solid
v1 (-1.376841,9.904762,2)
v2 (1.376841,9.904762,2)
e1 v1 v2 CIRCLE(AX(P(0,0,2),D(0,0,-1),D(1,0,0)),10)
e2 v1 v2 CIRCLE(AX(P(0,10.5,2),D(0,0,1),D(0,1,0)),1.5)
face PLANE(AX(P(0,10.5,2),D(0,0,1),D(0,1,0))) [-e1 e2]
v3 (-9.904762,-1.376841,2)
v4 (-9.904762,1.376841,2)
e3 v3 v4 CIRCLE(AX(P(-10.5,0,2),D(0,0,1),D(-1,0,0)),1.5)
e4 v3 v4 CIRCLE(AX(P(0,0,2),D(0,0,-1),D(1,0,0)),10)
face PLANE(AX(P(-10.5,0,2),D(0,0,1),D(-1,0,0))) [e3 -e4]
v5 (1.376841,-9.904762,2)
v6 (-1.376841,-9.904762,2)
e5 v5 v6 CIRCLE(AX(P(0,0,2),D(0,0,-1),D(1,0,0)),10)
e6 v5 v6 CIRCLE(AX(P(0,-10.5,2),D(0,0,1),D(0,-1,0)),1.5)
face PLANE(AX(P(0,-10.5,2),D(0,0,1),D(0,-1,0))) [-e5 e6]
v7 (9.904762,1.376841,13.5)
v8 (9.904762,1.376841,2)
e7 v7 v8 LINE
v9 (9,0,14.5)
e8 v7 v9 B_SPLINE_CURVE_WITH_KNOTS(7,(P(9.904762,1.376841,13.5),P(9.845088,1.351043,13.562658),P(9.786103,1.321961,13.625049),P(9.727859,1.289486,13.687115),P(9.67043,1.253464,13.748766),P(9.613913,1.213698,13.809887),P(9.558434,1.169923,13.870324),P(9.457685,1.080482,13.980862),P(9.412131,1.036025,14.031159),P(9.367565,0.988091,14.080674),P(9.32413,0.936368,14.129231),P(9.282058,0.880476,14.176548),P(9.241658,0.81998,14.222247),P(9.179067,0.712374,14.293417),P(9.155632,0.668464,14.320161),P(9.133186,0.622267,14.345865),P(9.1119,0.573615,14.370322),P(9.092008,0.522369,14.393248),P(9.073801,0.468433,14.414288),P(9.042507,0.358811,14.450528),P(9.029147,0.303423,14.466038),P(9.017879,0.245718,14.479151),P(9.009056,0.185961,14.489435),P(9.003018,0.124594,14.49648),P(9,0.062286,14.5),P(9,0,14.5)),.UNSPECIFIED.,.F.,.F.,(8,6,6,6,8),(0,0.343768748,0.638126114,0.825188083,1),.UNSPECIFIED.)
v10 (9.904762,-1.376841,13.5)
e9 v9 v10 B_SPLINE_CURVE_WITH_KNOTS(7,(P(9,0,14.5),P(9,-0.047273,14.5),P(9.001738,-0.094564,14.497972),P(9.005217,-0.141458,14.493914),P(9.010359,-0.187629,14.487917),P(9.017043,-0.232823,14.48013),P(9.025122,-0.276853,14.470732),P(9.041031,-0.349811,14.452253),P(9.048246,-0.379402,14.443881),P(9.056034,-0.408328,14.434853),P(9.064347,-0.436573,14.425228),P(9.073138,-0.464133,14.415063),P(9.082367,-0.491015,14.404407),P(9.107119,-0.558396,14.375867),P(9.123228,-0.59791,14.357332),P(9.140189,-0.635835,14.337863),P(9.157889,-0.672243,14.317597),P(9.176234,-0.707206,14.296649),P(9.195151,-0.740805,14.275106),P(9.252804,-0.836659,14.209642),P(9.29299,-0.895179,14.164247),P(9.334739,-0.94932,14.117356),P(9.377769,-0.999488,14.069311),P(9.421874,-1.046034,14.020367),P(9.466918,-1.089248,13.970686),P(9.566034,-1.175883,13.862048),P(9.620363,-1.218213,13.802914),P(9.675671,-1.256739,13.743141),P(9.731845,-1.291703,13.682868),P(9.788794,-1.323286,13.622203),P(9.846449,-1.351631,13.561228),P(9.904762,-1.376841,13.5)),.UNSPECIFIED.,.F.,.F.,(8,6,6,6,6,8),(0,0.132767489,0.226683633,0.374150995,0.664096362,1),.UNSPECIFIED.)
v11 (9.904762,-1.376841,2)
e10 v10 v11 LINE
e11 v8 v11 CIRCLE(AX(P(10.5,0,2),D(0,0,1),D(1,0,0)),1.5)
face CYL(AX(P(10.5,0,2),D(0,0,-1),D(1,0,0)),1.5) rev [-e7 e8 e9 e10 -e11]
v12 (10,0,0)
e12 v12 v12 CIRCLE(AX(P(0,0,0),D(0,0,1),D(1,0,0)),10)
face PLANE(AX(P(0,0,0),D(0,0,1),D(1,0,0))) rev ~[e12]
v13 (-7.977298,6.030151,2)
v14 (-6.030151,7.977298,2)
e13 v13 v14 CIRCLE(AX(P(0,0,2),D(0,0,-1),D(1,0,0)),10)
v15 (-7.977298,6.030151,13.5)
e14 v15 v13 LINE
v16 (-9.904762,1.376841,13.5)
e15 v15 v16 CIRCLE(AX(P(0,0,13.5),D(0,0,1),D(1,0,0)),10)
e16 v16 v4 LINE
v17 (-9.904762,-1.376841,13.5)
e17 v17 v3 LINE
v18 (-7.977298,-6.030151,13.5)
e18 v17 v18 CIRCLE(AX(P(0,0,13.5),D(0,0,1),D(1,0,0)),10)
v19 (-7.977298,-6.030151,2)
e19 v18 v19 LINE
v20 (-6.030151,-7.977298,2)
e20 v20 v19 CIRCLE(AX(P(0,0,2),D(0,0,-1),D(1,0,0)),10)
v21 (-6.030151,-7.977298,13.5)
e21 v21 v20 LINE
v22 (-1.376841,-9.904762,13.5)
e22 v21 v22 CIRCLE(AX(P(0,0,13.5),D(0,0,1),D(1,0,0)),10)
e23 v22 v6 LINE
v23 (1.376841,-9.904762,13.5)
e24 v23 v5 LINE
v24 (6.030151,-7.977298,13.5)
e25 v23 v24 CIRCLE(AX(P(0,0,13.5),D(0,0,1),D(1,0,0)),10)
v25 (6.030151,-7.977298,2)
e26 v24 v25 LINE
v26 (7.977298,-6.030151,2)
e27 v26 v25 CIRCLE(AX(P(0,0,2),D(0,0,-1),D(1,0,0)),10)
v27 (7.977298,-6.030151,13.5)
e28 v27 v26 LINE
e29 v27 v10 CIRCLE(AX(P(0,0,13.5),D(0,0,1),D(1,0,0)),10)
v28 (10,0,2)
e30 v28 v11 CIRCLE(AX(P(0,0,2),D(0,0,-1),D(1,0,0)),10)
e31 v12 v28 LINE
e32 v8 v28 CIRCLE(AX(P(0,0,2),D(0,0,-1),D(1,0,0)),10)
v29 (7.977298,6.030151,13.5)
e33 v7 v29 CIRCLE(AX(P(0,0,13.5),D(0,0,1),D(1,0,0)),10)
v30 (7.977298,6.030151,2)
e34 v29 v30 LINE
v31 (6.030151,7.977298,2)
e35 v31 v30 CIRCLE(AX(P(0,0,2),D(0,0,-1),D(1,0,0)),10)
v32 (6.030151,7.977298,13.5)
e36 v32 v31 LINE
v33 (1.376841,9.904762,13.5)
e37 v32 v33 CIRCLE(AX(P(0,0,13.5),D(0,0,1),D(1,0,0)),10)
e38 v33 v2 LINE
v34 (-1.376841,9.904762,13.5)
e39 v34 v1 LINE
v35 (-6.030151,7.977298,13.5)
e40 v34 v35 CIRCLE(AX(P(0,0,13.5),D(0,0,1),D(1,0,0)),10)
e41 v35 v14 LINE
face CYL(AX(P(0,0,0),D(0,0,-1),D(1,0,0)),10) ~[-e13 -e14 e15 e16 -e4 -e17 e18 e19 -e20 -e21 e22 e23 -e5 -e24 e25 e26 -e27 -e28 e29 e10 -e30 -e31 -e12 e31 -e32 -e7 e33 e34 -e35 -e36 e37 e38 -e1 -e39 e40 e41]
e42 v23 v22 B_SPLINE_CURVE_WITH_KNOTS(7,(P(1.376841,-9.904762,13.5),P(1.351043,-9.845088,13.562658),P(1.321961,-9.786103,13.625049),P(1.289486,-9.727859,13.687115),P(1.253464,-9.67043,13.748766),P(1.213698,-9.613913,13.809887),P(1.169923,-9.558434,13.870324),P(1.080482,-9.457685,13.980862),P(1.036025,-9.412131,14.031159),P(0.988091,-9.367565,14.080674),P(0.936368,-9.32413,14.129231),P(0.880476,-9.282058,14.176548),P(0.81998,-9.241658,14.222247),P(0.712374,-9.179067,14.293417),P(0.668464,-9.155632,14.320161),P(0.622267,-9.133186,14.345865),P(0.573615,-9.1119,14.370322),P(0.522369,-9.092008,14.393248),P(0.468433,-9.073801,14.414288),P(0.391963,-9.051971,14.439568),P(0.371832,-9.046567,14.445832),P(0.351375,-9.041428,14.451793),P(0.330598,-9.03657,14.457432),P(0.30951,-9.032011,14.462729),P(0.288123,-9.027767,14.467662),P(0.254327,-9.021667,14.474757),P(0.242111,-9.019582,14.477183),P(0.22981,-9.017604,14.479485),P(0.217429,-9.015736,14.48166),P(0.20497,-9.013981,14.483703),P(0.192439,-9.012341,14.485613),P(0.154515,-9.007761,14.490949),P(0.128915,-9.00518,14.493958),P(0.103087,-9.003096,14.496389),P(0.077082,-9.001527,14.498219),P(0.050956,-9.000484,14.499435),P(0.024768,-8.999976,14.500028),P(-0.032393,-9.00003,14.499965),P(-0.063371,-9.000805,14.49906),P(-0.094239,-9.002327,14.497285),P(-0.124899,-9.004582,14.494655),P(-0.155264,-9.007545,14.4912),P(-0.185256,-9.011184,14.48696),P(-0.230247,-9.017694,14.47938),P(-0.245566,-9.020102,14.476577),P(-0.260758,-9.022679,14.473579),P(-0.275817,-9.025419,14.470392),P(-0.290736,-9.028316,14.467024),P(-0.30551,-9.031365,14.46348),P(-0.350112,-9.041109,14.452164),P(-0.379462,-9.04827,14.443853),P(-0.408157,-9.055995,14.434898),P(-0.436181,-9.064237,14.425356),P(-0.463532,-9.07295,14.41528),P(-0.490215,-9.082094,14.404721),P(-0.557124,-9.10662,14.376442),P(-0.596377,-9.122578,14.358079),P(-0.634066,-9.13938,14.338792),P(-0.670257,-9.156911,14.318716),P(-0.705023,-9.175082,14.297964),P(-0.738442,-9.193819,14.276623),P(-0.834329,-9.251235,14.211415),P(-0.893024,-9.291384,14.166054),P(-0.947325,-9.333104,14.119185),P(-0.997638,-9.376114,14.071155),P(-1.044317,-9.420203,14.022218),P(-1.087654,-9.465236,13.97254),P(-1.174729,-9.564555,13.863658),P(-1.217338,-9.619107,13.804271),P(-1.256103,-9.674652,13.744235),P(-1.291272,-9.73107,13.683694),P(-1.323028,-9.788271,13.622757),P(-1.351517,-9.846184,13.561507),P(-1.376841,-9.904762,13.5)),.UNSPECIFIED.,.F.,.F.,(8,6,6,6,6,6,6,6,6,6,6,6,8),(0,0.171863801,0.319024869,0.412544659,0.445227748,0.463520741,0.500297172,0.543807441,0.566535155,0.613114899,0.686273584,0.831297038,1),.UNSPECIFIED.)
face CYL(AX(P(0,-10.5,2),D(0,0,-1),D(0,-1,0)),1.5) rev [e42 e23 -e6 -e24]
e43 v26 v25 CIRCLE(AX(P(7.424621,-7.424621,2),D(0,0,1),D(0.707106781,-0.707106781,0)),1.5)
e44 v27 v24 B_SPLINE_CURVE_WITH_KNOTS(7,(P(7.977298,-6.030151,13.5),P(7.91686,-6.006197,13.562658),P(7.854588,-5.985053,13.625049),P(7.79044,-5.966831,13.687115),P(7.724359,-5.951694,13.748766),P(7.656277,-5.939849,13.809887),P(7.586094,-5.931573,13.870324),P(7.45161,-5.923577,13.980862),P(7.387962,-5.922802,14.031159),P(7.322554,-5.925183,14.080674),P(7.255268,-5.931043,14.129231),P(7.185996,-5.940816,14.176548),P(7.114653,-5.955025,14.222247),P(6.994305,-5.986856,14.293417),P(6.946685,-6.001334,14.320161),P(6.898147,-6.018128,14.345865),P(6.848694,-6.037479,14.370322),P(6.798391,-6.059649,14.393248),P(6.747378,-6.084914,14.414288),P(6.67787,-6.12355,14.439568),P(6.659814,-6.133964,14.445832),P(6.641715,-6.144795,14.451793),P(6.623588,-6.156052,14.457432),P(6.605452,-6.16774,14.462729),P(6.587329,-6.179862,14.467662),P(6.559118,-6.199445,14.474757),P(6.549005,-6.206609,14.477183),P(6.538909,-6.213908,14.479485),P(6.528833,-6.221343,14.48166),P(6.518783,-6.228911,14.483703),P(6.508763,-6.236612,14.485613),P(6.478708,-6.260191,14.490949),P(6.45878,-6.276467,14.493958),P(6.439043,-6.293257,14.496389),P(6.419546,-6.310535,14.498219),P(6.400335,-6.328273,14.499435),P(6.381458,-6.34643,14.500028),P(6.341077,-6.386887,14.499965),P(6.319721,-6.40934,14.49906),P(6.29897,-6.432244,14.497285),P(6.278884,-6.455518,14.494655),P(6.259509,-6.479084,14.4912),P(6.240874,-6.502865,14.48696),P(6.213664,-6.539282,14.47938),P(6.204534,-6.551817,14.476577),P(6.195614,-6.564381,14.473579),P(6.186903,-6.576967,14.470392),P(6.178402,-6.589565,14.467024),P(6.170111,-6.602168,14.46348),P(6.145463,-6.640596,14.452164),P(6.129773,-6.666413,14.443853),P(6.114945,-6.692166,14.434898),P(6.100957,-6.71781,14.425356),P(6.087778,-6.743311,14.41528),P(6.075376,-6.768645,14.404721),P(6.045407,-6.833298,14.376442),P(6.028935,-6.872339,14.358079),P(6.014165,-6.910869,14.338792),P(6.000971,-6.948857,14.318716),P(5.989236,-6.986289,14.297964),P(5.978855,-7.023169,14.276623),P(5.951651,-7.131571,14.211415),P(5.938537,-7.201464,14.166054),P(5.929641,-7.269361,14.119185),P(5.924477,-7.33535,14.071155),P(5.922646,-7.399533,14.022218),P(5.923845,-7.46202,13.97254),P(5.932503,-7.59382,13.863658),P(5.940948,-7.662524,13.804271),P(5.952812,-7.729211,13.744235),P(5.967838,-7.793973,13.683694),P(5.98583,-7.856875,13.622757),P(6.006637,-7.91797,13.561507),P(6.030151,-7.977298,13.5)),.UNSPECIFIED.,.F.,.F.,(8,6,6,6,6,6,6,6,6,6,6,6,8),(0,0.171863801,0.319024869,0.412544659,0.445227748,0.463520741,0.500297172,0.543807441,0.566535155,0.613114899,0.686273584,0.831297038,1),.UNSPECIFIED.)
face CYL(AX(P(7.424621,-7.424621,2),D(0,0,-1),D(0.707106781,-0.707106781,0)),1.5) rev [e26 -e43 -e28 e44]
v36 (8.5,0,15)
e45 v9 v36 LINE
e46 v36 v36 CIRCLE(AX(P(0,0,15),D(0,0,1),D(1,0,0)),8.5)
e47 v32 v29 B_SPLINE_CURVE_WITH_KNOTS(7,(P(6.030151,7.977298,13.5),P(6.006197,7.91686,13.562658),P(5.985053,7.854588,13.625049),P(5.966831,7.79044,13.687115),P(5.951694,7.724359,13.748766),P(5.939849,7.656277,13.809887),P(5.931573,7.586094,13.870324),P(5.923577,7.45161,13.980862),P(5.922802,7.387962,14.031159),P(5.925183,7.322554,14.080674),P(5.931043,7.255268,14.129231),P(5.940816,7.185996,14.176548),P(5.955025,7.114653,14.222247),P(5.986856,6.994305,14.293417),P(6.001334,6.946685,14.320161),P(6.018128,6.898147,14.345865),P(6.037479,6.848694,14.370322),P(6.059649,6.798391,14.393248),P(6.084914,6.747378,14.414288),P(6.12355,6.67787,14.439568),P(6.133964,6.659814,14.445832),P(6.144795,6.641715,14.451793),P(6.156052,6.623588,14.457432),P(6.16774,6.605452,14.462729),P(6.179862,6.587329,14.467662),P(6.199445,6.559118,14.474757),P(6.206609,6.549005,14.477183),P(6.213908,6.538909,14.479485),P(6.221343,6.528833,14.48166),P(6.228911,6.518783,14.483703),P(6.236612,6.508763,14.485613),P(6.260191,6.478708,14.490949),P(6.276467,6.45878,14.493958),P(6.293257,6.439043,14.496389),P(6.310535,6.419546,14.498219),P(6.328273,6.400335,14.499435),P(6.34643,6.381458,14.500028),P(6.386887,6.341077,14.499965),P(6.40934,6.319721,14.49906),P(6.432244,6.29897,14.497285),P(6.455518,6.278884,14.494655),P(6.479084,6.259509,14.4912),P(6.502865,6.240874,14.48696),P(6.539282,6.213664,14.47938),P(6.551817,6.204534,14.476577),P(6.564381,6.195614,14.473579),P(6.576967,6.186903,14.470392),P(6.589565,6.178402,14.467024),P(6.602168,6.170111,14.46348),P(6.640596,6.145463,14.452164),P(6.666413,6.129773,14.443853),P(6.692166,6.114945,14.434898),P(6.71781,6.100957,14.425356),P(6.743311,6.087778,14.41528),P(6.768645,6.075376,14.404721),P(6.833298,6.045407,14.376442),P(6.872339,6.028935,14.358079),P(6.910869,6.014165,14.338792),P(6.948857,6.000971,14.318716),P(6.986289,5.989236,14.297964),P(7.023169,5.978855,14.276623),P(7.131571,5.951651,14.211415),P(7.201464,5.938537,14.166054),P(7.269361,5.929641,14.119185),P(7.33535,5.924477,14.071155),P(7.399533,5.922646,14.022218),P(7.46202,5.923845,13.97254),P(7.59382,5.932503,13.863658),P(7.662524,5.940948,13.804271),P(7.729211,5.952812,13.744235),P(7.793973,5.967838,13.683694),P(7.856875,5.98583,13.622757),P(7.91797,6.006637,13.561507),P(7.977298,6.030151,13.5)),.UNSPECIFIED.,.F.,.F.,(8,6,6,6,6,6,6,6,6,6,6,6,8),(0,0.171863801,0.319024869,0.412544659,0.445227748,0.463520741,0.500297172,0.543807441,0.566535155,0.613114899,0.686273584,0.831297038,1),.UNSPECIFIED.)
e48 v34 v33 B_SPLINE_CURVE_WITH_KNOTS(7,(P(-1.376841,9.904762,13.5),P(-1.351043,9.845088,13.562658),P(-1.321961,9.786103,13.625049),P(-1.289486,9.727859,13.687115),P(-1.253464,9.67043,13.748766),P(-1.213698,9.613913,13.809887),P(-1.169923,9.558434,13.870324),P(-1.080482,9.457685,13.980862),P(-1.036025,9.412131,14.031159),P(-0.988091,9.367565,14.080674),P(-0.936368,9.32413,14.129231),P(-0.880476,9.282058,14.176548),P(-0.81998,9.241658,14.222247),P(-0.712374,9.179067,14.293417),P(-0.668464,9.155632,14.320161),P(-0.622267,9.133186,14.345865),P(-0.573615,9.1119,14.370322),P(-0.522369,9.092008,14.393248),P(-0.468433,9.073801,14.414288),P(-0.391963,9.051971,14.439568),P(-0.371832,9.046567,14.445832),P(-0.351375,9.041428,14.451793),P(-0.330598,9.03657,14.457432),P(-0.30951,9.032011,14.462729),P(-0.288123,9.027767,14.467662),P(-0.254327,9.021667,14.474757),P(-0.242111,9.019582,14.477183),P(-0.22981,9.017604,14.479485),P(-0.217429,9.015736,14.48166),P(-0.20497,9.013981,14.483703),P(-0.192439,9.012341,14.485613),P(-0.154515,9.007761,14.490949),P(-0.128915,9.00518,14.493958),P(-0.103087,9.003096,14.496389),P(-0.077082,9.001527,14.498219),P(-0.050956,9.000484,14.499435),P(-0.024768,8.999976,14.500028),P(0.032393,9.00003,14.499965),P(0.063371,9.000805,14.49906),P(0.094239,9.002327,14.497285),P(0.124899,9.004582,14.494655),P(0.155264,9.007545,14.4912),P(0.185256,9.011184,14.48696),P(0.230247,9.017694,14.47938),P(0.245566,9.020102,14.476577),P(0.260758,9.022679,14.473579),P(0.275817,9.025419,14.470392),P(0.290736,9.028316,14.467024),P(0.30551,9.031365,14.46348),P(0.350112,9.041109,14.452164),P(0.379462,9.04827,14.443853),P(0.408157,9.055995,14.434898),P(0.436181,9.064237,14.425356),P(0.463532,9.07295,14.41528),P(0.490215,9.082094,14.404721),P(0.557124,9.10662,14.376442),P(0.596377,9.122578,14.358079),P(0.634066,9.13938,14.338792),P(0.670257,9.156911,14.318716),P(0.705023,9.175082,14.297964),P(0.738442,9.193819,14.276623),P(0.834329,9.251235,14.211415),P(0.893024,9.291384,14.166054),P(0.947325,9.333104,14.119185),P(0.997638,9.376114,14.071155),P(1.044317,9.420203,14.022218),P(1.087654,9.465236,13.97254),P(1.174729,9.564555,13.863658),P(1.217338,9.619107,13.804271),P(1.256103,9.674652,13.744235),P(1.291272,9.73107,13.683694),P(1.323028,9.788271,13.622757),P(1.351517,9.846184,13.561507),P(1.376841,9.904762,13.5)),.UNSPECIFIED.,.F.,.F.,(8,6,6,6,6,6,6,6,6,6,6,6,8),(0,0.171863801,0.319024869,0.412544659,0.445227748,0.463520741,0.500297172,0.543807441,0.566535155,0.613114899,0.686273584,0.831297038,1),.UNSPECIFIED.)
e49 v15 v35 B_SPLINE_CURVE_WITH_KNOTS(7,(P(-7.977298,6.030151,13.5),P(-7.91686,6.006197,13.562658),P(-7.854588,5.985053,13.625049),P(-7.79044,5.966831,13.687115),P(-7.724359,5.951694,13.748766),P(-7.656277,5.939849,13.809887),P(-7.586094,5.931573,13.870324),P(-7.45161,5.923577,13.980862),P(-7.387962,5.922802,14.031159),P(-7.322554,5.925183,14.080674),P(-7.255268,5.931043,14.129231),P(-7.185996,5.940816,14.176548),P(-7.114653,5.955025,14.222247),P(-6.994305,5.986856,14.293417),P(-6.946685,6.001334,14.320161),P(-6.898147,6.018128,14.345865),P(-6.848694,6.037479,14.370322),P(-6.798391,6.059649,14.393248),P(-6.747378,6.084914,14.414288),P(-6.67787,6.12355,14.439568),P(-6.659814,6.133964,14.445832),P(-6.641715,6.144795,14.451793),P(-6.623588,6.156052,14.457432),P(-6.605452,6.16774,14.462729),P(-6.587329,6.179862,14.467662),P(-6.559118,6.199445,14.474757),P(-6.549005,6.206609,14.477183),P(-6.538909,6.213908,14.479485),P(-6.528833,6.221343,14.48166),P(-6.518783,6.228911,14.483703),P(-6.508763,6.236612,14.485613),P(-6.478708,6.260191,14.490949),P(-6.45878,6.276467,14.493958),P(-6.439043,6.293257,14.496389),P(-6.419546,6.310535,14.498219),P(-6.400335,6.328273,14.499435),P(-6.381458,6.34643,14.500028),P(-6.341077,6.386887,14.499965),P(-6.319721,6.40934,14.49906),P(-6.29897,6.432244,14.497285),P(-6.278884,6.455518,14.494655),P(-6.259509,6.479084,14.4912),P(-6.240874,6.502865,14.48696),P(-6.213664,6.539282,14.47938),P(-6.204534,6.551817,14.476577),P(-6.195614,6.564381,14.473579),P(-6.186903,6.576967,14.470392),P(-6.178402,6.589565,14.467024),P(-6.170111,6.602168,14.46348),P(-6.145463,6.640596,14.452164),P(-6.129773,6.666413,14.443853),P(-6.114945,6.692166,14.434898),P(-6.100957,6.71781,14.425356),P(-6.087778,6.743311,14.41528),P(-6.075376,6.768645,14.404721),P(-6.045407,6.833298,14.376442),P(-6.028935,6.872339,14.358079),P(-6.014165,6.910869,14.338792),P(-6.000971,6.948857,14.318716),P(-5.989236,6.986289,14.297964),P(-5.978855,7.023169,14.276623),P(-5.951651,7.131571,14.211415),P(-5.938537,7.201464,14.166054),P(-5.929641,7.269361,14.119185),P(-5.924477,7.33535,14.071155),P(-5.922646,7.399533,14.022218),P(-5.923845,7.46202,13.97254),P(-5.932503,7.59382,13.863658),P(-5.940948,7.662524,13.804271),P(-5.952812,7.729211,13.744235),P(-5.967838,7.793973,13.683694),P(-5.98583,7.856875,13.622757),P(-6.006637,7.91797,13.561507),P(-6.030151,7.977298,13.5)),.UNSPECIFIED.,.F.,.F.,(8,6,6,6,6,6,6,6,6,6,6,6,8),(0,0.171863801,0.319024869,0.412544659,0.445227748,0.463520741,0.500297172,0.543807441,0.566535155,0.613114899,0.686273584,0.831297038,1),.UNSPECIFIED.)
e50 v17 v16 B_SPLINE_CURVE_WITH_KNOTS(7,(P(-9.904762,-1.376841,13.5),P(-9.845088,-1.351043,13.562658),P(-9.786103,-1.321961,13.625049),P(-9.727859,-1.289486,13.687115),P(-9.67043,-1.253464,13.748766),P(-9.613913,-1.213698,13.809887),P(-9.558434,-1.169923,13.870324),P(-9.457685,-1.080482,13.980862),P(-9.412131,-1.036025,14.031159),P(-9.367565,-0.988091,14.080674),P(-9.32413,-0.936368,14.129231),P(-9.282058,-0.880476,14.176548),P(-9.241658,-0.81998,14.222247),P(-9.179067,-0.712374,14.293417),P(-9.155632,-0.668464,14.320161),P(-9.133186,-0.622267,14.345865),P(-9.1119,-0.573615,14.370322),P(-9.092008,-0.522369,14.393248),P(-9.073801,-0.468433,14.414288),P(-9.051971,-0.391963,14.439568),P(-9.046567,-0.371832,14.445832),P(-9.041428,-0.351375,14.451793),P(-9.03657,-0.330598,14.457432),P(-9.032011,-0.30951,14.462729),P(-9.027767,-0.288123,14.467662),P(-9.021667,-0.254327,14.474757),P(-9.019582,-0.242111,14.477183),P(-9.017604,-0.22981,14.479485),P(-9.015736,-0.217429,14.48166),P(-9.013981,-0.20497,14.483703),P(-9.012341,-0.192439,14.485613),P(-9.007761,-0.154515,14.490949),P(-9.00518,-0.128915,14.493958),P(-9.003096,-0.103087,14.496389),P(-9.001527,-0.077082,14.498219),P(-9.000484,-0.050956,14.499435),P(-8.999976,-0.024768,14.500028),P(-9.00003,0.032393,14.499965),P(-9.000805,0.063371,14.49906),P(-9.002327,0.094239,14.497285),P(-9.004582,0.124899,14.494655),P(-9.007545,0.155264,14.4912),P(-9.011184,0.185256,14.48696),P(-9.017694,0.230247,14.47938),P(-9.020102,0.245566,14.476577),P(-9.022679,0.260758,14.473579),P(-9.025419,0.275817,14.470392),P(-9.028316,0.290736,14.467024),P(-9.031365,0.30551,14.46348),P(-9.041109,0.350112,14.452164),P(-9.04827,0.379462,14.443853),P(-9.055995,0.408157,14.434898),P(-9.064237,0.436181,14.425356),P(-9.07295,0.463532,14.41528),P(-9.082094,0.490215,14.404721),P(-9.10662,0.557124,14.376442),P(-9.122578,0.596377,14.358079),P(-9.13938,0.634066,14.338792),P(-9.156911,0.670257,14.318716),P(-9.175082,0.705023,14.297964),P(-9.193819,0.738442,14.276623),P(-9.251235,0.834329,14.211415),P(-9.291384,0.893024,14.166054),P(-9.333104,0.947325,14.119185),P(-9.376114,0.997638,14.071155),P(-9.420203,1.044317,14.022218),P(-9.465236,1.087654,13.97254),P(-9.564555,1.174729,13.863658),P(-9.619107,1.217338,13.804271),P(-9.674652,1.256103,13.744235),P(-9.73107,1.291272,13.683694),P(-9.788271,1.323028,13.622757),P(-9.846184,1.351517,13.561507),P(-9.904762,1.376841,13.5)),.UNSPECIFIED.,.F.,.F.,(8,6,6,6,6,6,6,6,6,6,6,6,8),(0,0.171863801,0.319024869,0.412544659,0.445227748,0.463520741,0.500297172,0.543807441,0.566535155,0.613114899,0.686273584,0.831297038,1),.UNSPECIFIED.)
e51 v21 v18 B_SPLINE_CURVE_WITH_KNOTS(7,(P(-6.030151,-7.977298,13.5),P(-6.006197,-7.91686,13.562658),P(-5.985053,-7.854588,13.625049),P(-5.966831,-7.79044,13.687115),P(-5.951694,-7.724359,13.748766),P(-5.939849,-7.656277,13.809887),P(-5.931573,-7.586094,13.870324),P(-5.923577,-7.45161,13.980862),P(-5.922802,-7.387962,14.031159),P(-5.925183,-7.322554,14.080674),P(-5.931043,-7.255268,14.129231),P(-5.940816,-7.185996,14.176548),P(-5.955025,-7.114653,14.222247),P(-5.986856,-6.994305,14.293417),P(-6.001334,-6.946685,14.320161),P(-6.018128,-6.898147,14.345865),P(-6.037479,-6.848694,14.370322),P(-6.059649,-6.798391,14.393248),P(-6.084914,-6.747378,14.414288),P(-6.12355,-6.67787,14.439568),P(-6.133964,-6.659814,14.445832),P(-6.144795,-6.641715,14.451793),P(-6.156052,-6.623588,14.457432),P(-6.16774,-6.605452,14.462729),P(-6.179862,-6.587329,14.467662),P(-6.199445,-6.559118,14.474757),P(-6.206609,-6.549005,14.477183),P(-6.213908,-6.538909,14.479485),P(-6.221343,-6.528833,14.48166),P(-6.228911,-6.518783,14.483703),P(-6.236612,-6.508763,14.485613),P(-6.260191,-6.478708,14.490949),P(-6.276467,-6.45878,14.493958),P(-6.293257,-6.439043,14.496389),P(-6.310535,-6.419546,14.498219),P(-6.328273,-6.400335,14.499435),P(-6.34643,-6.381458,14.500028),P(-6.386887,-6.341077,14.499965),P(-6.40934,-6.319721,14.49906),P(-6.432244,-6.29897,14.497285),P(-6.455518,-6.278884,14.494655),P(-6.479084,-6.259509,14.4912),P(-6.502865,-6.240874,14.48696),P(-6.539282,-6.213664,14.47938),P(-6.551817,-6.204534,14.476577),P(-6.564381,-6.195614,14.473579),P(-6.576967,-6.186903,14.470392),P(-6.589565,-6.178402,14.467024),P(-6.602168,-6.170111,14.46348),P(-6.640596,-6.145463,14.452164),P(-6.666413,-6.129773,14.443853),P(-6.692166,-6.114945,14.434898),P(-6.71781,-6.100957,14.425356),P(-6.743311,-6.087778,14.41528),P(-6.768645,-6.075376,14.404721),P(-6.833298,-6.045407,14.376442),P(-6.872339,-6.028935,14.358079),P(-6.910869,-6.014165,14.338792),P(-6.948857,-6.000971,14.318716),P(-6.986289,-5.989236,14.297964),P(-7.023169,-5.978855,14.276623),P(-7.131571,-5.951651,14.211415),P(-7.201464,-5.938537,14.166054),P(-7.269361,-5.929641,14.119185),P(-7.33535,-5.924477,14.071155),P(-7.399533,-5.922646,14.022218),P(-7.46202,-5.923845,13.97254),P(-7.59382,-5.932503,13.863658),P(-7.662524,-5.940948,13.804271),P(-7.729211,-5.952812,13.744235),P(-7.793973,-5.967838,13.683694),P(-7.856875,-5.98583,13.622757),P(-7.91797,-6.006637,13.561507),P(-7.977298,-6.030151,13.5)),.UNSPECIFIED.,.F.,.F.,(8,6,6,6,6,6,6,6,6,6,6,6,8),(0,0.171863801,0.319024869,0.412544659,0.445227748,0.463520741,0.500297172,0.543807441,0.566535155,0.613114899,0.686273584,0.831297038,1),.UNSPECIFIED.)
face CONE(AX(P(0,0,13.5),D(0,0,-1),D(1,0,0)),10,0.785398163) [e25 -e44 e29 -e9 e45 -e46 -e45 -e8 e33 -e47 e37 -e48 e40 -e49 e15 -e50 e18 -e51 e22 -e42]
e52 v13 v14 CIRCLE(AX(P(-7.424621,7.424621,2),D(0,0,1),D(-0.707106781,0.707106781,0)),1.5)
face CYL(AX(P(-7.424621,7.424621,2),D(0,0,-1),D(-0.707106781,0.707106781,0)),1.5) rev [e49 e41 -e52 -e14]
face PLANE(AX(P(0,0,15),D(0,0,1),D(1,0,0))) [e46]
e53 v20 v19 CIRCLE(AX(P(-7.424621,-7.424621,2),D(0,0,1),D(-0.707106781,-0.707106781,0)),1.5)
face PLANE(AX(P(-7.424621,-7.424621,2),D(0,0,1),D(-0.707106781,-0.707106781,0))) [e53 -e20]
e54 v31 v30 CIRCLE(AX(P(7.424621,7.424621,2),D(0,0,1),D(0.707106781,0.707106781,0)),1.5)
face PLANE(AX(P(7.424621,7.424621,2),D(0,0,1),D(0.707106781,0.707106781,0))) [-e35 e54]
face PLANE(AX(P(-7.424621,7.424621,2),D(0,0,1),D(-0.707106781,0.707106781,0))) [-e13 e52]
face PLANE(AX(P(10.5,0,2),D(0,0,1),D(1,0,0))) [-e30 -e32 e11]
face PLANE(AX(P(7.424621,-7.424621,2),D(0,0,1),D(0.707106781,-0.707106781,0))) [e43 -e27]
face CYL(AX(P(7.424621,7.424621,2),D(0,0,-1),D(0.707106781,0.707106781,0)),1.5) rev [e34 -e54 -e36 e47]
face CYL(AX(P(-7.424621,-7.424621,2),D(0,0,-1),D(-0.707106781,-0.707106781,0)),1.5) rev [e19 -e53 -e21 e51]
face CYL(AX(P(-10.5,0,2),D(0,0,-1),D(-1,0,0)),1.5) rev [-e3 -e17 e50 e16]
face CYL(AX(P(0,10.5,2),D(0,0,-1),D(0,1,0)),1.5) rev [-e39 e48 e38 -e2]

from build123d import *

# Parameters (mm, degrees)
CYLINDER001_R     = 1.5
CYLINDER001_DEPTH = 17
ARRAY_COUNT       = 8
CYLINDER_R        = 10
CYLINDER_DEPTH    = 15
CHAMFER_SIZE      = 1.5


with BuildPart() as array_hendiduras:
    # Cylinder001 → Cylinder001 (new body)
    with BuildSketch(Plane(origin=(10.5, 0, 3), x_dir=(1, 0, 0), z_dir=(0, 0, 1))):
        Circle(CYLINDER001_R)
    extrude(amount=CYLINDER001_DEPTH)

    # Array: Array_hendiduras ×8 about axis
    array_axis = Axis((0, 0, 0), (0, 0, 1))


with BuildPart() as array_hendiduras_1:
    add(array_hendiduras.part)
    for i in range(1, ARRAY_COUNT):
        add(array_hendiduras.part.rotate(array_axis, i * 360 / ARRAY_COUNT))


with BuildPart() as array_hendiduras_2:
    # Array placement: moved
    add(array_hendiduras_1.part.moved(Location((0, 0, -1))))


with BuildPart() as boton_acabado:
    # Cylinder → Cylinder (new body)
    with BuildSketch(Plane.XY):
        Circle(CYLINDER_R)
    extrude(amount=CYLINDER_DEPTH)

    # Chamfer
    chamfer_edges = [boton_acabado.edges().sort_by_distance(p)[0] for p in [
        (-10, 0, 15),
    ]]
    chamfer(chamfer_edges, length=CHAMFER_SIZE)

    # Cut: cut Array_hendiduras
    add(array_hendiduras_2.part, mode=Mode.SUBTRACT)


solid = boton_acabado.part
